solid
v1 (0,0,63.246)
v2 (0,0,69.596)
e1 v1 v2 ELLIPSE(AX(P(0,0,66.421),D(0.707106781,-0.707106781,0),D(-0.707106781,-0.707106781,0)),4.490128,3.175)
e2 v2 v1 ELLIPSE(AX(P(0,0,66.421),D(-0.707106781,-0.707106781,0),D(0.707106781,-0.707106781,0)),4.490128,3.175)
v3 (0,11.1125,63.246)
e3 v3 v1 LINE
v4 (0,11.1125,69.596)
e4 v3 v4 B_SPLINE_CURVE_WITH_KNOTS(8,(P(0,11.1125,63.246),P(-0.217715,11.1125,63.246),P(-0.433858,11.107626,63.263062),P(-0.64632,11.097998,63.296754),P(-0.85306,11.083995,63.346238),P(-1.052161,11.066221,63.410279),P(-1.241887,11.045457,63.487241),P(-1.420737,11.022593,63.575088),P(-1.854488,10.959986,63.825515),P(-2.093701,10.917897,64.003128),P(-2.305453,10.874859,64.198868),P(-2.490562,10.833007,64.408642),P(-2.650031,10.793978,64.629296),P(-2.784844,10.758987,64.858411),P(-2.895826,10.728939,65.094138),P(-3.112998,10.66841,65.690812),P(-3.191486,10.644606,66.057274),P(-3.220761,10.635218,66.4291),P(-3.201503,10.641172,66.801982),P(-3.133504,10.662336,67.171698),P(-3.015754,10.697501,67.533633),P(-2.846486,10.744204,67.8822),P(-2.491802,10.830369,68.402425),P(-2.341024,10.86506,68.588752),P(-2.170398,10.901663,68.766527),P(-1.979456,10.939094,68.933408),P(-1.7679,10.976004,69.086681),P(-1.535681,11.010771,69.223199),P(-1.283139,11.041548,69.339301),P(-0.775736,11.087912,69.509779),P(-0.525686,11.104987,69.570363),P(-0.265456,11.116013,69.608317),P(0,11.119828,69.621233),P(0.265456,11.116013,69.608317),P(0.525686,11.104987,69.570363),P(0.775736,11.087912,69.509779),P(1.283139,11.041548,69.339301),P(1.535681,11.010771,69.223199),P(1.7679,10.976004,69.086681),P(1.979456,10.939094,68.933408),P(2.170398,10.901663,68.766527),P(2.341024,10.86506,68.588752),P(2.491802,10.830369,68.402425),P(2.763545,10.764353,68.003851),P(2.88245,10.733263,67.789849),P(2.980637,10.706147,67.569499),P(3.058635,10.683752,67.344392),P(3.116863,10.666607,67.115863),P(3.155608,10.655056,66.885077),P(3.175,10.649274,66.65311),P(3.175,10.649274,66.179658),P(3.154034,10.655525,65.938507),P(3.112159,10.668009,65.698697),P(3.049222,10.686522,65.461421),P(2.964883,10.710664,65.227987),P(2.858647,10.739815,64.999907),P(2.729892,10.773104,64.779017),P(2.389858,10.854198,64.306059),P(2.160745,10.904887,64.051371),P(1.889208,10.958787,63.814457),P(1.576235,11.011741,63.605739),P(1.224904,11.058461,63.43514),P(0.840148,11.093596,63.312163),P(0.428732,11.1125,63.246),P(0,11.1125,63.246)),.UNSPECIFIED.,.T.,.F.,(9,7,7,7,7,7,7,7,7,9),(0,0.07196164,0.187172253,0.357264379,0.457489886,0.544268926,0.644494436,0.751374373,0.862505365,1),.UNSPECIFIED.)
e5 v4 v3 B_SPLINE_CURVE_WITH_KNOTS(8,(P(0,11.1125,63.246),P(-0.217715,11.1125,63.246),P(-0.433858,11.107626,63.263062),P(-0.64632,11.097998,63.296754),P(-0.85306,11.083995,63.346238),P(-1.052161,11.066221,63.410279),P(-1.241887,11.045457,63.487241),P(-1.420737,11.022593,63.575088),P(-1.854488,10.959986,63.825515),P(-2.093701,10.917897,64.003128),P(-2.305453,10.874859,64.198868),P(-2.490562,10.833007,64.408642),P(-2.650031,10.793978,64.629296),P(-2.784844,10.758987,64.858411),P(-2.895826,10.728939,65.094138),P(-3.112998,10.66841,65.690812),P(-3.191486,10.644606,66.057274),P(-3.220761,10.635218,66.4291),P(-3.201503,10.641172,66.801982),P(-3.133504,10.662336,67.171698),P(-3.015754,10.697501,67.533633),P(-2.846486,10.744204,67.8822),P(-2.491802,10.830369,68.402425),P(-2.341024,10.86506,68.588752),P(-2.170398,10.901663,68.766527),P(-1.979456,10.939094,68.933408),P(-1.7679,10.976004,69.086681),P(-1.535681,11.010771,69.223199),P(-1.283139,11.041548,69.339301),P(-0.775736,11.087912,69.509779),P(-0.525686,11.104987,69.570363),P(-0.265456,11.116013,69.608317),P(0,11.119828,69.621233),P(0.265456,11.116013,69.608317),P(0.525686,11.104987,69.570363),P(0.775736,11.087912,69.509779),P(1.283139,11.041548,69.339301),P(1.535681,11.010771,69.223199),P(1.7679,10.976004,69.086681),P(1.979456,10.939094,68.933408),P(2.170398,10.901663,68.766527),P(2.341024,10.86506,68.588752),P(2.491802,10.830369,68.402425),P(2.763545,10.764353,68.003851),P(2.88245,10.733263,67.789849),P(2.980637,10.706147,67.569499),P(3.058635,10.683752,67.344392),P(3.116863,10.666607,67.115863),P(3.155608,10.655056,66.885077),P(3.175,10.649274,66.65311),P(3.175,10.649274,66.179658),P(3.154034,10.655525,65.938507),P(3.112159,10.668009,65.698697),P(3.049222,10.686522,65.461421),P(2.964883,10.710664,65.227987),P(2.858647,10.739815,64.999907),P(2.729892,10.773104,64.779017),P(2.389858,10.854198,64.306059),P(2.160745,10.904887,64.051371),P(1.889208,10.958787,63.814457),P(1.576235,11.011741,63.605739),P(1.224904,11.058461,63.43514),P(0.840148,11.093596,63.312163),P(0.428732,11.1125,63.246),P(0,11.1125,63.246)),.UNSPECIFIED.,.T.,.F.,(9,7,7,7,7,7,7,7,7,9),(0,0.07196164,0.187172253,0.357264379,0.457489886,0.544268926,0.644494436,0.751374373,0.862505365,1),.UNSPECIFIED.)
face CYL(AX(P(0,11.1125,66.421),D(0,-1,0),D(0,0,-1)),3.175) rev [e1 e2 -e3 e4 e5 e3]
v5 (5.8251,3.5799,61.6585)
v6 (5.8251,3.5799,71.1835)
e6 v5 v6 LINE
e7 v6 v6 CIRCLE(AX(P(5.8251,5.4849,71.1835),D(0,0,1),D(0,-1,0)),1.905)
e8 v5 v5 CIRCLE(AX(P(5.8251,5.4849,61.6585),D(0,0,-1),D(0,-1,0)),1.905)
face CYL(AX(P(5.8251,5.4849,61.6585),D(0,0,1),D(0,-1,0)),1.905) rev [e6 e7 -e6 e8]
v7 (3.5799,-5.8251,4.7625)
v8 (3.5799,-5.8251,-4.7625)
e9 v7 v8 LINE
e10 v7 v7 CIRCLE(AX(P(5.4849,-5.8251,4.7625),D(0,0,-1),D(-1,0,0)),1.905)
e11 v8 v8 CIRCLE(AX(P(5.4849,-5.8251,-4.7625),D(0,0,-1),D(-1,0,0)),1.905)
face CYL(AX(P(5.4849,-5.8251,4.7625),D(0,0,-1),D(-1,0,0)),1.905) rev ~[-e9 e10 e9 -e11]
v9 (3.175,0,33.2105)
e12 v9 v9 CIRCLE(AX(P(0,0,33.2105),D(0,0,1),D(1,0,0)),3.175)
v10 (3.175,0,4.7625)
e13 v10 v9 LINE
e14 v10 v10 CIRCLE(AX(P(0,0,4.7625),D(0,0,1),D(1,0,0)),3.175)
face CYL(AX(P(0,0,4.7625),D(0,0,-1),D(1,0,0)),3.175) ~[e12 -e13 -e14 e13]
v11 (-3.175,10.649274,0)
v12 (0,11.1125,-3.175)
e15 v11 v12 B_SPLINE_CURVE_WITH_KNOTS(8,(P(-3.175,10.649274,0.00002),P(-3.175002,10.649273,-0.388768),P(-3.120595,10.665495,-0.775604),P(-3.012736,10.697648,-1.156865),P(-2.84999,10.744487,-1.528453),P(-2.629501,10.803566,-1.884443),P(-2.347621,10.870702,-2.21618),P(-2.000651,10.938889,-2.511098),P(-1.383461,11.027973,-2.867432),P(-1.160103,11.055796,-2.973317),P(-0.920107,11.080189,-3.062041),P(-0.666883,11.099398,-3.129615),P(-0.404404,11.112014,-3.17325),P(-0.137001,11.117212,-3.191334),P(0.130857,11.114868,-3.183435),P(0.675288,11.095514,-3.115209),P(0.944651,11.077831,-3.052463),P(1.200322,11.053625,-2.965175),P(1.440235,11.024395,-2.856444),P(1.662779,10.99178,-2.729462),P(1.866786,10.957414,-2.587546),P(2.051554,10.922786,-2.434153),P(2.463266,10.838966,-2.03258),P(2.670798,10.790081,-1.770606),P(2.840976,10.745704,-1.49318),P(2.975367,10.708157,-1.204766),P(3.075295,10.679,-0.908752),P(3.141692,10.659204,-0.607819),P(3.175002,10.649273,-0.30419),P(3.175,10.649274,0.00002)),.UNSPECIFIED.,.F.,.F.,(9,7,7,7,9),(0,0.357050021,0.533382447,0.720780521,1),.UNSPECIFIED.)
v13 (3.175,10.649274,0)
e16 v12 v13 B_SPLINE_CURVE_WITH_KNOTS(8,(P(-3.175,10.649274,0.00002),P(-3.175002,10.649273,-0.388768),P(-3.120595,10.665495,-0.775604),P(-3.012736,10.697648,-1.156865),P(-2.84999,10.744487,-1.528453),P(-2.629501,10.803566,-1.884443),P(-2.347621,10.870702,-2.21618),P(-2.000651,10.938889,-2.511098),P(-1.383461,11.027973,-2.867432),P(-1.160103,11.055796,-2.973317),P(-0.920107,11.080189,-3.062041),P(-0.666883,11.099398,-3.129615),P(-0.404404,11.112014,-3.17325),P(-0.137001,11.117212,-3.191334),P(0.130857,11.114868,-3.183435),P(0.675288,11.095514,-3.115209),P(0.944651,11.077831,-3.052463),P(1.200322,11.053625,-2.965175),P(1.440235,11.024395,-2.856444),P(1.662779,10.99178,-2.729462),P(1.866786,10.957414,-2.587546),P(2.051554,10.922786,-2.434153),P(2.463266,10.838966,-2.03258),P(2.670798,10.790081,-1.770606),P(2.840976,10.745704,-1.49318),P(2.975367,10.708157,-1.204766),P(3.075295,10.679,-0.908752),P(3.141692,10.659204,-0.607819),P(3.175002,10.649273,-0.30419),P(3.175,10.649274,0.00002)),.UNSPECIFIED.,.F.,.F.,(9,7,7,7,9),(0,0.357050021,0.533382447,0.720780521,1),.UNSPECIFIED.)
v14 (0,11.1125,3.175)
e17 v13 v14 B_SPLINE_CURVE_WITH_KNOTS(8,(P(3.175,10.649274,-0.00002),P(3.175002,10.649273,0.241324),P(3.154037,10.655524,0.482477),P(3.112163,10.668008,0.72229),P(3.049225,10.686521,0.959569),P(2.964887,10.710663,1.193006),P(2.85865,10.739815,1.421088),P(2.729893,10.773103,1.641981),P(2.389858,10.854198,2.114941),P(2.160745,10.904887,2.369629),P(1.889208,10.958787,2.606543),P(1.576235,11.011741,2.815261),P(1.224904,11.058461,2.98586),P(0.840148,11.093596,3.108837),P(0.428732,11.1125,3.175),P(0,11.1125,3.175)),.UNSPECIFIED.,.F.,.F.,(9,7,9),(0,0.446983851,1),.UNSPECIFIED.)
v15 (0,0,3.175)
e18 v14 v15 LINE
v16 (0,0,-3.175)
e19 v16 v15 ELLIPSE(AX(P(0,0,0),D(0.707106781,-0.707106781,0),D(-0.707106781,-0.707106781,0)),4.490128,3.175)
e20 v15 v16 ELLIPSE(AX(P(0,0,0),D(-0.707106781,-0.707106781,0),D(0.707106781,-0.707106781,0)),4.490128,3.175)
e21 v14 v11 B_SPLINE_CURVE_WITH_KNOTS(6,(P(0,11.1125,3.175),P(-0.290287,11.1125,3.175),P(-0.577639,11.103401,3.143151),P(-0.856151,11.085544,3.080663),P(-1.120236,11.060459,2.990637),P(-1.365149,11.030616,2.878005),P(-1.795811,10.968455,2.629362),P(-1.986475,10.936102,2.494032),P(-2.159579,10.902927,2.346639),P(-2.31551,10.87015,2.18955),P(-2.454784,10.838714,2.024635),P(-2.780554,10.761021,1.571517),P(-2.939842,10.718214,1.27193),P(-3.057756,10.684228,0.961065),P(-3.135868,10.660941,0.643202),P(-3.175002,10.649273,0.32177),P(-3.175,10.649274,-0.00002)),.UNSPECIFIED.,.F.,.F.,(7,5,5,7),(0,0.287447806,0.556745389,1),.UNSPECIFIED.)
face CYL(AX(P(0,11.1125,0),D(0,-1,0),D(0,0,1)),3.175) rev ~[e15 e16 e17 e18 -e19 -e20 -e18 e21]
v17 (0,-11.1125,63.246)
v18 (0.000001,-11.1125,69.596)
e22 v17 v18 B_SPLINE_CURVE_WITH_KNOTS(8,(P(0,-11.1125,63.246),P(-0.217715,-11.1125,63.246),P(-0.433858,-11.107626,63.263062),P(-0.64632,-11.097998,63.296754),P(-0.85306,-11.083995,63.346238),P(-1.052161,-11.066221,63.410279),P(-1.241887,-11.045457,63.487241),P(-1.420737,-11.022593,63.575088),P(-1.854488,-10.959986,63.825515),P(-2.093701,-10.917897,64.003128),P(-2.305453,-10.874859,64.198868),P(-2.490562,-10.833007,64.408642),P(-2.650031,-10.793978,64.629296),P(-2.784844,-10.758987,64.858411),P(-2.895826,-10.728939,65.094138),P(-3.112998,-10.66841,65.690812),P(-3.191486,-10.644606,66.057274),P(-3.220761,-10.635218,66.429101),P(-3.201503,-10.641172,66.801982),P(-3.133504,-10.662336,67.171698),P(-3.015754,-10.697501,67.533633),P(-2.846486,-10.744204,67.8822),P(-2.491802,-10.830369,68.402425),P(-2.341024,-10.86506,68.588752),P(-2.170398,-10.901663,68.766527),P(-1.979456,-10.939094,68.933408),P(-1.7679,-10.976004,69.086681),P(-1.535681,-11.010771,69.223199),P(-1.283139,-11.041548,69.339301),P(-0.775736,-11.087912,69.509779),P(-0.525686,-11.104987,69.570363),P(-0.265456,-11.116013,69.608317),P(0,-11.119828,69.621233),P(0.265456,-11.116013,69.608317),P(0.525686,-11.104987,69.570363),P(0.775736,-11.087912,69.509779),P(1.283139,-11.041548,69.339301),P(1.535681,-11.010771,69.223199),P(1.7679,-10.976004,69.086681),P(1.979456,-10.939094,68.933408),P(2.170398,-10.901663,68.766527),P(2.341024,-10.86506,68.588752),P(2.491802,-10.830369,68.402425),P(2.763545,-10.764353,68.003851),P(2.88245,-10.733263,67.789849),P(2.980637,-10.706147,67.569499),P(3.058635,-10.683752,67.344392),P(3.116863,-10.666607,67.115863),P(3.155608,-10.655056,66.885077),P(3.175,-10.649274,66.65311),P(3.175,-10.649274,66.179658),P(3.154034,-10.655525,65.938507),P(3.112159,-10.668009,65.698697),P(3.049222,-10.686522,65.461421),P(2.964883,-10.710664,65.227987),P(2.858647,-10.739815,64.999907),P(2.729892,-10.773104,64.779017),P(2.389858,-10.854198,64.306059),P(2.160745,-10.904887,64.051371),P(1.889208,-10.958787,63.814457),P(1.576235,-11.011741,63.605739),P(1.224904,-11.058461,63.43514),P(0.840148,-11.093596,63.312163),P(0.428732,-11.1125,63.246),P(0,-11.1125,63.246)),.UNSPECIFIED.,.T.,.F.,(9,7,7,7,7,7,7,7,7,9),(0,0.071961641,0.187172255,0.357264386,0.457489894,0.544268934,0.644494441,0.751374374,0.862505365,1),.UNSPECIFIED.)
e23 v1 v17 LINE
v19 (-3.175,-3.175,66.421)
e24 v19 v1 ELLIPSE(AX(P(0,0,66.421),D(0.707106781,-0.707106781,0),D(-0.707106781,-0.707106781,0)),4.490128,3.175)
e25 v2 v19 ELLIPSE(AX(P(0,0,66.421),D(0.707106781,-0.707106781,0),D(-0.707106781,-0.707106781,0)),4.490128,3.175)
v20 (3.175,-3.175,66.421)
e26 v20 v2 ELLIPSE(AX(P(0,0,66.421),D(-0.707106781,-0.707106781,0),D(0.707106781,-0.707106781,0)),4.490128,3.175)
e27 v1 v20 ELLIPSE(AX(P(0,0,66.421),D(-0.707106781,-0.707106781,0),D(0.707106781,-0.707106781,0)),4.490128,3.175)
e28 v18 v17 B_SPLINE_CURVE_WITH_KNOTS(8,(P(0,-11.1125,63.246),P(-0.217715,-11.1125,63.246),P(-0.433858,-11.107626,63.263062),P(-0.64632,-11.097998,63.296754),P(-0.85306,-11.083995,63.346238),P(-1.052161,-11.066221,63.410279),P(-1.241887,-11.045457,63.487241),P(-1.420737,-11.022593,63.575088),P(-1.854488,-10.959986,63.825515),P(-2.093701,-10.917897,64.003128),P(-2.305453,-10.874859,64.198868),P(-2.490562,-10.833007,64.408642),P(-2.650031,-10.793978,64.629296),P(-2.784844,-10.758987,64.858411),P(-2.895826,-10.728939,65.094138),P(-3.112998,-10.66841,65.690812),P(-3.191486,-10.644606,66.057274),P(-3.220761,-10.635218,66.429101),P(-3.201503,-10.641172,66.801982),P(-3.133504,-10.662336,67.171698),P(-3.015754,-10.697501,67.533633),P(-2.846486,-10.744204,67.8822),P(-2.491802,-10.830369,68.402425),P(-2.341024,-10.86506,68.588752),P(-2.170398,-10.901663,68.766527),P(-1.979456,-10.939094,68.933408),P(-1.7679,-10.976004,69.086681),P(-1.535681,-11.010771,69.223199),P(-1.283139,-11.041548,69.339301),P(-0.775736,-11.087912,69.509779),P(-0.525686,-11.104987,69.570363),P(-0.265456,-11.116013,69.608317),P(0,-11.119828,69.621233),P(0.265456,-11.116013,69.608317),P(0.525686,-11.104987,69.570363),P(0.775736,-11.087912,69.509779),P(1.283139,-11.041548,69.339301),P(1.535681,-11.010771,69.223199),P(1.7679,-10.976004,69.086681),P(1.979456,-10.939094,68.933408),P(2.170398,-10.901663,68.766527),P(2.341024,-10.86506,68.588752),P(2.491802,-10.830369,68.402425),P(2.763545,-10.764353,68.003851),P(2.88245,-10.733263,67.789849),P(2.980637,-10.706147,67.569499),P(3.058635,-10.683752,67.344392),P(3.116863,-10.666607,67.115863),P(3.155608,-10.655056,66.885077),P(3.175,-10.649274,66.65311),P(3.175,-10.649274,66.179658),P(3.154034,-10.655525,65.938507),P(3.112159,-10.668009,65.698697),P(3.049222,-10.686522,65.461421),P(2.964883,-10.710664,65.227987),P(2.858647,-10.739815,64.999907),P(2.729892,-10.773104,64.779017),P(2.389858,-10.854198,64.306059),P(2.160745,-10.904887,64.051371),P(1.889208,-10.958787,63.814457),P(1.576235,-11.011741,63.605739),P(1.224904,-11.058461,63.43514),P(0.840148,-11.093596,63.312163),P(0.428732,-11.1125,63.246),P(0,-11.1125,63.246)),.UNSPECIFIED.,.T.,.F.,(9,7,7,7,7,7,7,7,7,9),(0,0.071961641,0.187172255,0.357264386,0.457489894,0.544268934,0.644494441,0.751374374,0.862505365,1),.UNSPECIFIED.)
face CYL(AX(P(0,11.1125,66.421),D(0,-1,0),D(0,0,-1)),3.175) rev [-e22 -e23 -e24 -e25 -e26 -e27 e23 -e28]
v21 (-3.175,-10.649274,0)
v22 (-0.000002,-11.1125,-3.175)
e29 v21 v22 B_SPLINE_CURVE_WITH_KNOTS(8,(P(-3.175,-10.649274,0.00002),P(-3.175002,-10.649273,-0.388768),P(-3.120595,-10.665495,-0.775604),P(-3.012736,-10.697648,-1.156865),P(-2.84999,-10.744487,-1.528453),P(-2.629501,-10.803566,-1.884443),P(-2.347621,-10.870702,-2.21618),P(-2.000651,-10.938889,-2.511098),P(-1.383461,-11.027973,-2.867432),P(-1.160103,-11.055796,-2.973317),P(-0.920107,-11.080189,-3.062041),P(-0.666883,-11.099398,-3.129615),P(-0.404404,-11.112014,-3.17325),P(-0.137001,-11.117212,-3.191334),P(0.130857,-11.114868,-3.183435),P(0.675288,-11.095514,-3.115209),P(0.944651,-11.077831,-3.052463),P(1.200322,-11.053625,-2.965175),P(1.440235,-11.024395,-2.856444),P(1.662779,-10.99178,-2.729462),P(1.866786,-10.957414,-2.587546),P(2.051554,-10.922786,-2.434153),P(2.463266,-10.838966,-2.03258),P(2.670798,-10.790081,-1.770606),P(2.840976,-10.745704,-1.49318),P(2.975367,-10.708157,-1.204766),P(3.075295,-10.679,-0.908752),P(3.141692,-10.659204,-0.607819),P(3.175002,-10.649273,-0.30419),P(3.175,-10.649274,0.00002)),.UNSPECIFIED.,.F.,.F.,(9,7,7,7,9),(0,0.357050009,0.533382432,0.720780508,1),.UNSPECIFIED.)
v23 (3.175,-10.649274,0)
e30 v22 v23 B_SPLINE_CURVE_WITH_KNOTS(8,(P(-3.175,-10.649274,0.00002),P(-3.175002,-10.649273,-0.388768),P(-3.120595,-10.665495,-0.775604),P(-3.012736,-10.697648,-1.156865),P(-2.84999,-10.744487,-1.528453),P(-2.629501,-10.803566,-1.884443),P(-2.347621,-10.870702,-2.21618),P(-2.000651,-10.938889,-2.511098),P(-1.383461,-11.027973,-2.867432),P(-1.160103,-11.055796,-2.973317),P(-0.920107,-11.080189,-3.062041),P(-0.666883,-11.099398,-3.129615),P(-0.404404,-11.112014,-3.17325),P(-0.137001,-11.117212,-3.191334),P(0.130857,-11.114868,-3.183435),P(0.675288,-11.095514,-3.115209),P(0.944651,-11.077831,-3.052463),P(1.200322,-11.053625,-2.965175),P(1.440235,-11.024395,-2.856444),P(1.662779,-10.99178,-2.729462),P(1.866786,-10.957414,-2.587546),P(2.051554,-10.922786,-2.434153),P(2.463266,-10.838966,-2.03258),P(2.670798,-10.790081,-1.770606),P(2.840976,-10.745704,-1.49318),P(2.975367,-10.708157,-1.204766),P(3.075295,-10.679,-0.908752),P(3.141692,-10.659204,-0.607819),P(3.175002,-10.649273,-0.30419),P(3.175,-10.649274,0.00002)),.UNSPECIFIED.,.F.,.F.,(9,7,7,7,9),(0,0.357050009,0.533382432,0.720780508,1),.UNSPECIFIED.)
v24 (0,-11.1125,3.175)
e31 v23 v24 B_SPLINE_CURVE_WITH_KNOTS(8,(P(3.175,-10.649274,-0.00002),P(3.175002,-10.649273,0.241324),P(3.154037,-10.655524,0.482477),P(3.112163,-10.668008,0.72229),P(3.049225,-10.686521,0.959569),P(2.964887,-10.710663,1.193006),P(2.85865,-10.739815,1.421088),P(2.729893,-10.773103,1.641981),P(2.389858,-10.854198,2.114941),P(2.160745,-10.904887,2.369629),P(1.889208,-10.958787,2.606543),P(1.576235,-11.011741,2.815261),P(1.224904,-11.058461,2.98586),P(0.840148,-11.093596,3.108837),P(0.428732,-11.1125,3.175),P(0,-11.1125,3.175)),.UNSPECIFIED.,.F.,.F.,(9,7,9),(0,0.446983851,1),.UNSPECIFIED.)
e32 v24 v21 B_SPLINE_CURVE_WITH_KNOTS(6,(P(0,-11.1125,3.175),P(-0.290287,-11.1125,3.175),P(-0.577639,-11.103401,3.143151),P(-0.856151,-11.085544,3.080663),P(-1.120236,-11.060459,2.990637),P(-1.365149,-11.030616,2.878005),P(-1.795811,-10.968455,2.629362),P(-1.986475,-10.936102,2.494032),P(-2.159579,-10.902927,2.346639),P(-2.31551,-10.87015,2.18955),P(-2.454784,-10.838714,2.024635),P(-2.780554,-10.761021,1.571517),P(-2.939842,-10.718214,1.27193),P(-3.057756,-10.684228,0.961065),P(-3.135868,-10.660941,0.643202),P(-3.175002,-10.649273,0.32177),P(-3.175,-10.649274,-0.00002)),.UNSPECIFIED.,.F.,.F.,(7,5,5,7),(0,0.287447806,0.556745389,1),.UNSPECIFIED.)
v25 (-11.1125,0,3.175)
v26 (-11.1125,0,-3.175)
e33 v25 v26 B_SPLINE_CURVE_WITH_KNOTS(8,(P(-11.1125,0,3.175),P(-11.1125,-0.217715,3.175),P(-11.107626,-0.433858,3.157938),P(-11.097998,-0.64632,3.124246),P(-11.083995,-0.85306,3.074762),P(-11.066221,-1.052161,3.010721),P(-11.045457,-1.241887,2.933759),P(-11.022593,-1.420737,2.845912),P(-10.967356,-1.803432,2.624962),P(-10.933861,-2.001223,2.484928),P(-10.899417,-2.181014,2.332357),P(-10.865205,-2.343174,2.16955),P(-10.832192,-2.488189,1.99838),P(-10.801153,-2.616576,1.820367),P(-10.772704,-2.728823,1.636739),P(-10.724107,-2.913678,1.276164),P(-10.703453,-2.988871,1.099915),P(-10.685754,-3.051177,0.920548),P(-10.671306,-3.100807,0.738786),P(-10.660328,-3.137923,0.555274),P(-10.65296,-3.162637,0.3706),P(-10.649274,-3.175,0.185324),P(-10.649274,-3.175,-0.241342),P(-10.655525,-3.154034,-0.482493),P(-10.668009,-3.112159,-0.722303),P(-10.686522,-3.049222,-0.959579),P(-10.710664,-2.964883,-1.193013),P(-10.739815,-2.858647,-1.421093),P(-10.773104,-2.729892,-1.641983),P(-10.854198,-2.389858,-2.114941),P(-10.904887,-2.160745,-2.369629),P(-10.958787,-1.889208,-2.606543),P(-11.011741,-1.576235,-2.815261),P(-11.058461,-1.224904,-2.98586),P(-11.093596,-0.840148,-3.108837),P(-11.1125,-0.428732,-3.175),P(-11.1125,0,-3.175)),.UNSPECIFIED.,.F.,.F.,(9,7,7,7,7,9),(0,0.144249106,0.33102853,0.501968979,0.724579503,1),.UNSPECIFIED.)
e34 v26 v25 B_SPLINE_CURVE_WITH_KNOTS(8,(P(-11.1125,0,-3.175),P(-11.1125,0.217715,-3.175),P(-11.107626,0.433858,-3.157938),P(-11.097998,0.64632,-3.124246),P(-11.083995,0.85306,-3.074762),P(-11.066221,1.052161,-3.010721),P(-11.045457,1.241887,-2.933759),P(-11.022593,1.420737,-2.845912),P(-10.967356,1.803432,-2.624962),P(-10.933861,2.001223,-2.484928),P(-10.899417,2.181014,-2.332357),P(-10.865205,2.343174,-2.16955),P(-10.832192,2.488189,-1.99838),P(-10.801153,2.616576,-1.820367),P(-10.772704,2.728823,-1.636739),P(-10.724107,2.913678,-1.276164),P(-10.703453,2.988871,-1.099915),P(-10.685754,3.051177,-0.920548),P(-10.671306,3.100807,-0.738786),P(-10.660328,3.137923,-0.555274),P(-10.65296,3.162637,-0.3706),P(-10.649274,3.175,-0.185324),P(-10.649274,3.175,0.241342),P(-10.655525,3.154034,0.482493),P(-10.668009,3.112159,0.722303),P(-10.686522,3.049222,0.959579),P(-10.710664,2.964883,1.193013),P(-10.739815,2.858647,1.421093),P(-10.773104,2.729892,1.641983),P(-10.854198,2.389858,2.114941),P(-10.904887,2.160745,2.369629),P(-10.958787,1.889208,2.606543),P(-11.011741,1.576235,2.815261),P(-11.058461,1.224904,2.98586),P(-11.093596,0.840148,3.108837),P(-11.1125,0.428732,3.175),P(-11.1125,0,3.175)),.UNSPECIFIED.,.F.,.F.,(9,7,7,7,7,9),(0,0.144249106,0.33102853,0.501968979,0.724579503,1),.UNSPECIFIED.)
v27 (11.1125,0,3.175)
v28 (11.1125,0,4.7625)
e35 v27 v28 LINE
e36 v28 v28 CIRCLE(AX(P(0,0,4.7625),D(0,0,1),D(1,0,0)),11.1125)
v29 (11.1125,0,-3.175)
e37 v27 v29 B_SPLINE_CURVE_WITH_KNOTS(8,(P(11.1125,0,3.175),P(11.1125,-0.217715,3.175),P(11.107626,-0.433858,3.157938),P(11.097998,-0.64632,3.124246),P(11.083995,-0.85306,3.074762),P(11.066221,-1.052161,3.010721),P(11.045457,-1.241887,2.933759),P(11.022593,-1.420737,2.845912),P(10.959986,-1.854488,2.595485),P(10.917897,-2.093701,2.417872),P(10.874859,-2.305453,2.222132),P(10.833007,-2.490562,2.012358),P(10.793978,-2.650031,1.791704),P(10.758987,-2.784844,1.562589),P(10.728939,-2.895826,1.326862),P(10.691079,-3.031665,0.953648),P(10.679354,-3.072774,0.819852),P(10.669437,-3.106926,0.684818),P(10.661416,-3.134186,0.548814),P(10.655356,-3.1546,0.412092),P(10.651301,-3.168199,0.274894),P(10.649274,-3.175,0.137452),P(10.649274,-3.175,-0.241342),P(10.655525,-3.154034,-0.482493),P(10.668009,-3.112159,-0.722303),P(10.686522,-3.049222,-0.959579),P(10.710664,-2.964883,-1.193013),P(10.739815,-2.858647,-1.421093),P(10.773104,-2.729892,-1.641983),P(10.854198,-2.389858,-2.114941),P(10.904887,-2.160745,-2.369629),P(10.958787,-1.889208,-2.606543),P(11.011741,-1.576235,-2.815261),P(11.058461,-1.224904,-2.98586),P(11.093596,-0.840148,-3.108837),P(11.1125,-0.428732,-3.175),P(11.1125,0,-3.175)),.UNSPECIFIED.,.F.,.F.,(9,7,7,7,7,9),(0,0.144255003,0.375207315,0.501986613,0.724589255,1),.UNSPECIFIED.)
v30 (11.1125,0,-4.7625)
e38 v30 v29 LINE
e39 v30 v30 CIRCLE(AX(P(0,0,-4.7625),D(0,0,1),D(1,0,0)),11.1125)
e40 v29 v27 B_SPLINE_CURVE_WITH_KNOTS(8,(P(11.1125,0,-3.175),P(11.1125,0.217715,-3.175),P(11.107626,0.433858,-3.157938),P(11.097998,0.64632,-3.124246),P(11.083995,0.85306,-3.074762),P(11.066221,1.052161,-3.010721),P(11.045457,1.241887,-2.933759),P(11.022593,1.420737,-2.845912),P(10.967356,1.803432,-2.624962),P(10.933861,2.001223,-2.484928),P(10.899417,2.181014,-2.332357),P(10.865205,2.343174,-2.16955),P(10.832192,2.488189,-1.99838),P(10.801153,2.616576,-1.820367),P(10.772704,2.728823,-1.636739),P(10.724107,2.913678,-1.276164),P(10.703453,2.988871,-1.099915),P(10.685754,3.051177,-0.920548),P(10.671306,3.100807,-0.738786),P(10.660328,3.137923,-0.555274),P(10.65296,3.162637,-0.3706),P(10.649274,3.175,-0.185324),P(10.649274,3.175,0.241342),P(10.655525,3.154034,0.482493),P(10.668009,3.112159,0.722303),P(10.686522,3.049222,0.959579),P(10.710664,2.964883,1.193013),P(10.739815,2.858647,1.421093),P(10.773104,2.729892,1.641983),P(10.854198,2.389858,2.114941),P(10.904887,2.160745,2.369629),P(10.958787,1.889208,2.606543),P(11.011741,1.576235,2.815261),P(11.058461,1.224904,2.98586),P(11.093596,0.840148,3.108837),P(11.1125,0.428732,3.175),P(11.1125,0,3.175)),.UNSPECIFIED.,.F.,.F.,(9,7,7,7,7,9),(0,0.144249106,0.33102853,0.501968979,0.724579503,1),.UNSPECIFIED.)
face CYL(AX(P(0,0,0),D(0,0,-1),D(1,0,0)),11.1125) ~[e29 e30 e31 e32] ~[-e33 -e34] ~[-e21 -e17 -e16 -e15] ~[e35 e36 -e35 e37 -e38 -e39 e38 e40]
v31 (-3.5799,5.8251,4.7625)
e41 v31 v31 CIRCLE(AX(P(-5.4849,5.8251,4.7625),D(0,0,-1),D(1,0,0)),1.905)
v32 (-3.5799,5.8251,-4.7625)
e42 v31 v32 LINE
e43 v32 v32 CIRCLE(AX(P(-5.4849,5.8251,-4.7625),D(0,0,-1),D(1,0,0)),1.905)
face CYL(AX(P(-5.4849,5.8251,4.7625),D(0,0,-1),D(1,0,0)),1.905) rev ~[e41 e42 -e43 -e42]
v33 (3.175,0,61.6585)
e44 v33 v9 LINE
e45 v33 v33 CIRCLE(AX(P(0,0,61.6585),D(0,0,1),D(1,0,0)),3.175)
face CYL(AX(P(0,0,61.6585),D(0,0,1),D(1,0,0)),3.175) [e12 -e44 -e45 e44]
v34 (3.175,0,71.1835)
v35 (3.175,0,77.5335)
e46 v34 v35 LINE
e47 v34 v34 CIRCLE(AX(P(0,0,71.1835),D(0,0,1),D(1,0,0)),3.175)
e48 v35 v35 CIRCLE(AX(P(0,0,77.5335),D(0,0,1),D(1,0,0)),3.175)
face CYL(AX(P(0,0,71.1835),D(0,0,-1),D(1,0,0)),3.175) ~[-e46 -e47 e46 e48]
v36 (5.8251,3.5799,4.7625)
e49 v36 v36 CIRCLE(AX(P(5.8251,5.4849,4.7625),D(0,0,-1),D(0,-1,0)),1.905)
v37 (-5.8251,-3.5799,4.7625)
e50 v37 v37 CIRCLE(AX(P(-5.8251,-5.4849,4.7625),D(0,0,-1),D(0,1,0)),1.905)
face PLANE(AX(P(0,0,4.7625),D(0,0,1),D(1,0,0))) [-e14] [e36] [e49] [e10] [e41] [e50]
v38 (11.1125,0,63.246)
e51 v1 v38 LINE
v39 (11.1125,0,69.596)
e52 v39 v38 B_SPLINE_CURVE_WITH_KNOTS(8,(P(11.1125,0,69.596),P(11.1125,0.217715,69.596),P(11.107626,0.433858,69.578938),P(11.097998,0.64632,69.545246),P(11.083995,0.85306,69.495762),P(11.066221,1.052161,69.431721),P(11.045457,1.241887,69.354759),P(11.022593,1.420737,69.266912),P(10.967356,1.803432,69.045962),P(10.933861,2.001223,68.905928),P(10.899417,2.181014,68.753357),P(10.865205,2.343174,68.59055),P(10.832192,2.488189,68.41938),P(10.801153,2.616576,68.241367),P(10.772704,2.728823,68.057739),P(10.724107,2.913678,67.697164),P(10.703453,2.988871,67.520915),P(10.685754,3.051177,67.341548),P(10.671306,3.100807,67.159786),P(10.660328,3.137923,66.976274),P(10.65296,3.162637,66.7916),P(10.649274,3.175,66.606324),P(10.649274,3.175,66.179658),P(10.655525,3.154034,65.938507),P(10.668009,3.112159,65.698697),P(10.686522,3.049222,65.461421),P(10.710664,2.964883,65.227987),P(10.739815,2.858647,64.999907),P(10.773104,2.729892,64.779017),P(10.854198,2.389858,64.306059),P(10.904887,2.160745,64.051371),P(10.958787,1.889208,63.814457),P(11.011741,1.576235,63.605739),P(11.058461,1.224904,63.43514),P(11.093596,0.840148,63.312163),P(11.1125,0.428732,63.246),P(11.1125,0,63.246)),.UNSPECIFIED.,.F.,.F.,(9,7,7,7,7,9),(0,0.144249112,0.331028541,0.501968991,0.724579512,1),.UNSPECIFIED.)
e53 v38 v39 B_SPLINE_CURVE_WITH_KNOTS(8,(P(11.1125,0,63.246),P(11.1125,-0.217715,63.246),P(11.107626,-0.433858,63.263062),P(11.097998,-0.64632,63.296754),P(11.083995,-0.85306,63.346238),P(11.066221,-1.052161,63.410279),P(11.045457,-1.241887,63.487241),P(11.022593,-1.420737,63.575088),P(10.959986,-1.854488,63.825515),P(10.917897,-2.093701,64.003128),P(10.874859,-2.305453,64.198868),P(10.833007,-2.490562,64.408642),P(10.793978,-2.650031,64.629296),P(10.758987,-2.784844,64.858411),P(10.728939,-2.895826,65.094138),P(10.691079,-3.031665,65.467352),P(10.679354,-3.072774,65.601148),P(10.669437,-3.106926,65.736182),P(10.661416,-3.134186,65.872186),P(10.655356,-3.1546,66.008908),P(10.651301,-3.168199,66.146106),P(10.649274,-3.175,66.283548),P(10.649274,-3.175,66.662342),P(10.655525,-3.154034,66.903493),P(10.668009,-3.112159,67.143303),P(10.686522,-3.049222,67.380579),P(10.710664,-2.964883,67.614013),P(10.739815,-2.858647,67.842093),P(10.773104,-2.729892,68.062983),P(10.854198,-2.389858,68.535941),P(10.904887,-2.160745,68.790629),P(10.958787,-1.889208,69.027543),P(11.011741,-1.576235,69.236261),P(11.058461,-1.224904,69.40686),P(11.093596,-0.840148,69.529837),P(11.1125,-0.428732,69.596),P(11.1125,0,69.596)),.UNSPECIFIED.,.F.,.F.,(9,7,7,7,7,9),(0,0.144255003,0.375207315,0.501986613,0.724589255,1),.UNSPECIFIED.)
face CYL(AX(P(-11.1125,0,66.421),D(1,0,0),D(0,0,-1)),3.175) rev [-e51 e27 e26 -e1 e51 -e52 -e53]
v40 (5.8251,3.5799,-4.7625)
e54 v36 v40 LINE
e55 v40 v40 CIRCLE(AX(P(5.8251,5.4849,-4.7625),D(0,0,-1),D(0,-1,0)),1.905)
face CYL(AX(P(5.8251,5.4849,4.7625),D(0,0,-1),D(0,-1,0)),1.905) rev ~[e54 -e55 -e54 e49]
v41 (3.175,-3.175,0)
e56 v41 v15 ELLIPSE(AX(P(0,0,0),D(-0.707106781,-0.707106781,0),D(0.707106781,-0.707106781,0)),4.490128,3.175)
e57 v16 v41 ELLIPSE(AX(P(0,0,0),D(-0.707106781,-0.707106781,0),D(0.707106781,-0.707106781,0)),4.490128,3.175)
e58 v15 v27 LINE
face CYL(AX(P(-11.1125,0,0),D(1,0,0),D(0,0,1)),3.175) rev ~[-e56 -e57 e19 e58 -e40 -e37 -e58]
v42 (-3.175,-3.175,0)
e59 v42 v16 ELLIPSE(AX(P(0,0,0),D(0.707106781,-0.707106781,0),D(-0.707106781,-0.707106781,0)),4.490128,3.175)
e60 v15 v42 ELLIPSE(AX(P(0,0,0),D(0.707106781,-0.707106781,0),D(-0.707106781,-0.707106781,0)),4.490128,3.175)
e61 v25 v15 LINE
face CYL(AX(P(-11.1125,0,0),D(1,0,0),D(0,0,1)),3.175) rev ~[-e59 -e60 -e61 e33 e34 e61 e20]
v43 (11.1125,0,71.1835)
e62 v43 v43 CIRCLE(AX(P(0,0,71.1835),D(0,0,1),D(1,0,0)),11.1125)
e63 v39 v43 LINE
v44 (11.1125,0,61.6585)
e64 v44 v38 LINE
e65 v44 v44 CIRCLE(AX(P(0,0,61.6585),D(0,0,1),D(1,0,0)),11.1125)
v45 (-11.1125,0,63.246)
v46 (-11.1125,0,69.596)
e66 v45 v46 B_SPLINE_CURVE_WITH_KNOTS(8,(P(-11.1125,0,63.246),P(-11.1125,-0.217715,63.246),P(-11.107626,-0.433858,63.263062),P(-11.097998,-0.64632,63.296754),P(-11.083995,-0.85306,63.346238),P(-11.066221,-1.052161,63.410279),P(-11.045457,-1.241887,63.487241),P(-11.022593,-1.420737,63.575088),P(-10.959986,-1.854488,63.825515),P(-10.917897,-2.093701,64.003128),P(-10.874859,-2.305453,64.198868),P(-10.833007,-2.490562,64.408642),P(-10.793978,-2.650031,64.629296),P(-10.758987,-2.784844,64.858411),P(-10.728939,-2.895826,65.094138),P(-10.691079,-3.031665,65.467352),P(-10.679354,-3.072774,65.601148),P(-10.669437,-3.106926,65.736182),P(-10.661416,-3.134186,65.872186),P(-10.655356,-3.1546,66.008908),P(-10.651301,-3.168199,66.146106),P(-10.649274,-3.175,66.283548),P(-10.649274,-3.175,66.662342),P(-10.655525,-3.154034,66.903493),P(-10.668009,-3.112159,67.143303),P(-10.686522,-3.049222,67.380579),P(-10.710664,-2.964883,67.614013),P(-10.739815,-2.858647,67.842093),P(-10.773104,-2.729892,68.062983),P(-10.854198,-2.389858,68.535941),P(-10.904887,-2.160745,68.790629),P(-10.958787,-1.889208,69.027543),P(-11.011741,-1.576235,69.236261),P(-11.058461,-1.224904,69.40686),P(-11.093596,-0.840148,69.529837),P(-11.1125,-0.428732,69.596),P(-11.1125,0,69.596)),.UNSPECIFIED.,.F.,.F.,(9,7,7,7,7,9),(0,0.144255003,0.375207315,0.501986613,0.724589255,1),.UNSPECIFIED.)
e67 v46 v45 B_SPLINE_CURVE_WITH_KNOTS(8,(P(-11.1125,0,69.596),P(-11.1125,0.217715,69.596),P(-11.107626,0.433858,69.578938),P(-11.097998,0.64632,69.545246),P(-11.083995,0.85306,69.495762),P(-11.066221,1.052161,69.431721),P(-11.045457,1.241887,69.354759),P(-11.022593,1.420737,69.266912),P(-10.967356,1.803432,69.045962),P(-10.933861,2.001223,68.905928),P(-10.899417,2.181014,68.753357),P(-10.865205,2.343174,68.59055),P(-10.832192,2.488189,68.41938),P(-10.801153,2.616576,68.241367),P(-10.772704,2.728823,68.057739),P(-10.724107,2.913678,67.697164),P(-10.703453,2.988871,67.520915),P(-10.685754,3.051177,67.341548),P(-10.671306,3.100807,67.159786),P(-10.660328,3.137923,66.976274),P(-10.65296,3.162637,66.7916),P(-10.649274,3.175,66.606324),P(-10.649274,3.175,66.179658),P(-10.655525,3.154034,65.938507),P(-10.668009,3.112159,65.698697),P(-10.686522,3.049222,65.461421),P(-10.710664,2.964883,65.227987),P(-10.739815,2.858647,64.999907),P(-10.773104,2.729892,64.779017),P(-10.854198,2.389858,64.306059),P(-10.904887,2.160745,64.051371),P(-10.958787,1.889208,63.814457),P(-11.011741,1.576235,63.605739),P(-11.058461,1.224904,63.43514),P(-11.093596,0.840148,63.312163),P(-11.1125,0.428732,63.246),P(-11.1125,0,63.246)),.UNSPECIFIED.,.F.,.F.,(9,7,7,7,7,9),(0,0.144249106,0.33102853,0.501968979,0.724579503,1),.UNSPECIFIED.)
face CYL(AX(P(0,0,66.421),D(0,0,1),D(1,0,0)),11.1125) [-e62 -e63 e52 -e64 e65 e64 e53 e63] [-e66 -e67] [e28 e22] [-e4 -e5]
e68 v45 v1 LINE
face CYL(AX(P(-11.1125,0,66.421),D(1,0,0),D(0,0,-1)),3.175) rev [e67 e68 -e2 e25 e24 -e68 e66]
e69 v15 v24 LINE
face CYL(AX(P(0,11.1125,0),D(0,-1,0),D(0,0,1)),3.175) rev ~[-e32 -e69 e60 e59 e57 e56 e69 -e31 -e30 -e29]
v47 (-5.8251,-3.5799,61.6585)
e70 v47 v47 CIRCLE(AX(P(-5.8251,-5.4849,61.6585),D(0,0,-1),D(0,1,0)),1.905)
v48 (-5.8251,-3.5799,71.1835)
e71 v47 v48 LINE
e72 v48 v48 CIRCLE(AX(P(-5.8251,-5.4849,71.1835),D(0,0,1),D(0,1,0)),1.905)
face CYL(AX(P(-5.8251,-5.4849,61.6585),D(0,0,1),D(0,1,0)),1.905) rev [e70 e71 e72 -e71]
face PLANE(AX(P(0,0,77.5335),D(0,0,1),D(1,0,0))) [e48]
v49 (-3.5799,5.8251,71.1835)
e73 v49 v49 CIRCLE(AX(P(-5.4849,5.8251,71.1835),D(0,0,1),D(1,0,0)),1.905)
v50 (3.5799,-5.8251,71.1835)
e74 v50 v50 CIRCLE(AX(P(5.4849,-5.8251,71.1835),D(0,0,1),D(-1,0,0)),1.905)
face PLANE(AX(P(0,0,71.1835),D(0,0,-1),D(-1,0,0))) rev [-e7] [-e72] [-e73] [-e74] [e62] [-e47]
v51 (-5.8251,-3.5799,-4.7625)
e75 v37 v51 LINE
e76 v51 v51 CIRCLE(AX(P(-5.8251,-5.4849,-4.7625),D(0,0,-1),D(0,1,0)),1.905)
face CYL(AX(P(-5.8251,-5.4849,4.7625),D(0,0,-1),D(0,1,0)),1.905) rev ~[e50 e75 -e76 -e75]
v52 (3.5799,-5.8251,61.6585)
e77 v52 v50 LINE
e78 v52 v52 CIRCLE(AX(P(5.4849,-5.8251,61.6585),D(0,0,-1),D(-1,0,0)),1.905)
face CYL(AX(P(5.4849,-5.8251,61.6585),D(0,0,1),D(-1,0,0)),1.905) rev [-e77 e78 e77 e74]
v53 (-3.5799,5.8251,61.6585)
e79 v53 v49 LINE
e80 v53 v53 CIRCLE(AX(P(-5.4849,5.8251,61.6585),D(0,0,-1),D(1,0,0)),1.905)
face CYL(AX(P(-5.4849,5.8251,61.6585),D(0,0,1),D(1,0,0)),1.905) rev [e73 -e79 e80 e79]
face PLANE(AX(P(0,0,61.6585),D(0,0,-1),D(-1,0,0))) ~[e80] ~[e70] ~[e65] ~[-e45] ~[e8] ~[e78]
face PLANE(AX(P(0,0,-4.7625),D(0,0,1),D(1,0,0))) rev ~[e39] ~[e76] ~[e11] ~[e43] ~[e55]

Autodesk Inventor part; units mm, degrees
ref_plane "YZ Plane" through (0, 0, 0) normal (1, 0, 0) x (0, 1, 0)
ref_plane "XY Plane" through (0, 0, 0) normal (0, 0, 1) x (1, 0, 0)
sketch "Sketch2" plane through (0, 0, 0) normal (0, 0, 1) x (1, 0, 0)
  line L0 (0, 0) -> (3.175, -3.175) projected
  circle A0 centre (0, 0) radius 11.1125
  dimension "d6" = 22.225
extrude "Extrusion2" add sketch "Sketch2" along normal mid plane 9.525
sketch "Sketch6" plane through (0, 0, 4.7625) normal (0, 0, 1) x (1, 0, 0)
  circle A0 centre (0, 0) radius 3.175
  dimension "d17" = 6.35
extrude "Extrusion3" add sketch "Sketch6" along normal blind 28.448
sketch "Sketch7" plane through (0, 0, 4.7625) normal (0, 0, 1) x (1, 0, 0)
  circle A0 centre (0, 0) radius 3.175 projected
  line L0 (5.8251, 5.4849) -> (0.0652, -0.2751)
  line L1 (0, 0) -> (5.491, 0)
  dimension "d20" = 8.001
  dimension "d42" = 45
hole "Hole2" at (5.8251, 5.4849, 4.7625) direction (0, 0, -1) diameter 3.81 end through all
pattern_circular "Circular Pattern2" count 4 over 360 about axis through (0, 0, 4.7625) along (0, 0, 1) of "Hole2"
ref_plane "Work Plane2" through (0, 11.1125, 0) normal (0, 1, 0) x (-1, 0, 0)
sketch "Sketch8" plane through (0, 11.1125, 0) normal (0, 1, 0) x (-1, 0, 0)
  point P0 (0, 0)
  point P1 (0, 0)
hole "Hole3" at (0, 11.1125, 0) direction (0, -1, 0) diameter 6.35 end through all
pattern_circular "Circular Pattern3" count 4 over 360 about axis through (0, 0, 4.7625) along (0, 0, 1) of "Hole3"
mirror "Mirror1" about plane through (0, 0, 33.2105) normal (0, 0, 1) of "Extrusion2", "Hole2", "Circular Pattern2", "Extrusion3", "Hole3", "Circular Pattern3"
sketch "Sketch9" plane through (0, 0, 71.1835) normal (0, 0, 1) x (1, 0, 0)
  line L0 (0, 0) -> (0, 0) projected
  circle A0 centre (0, 0) radius 3.175
  dimension "d43" = 6.35
extrude "Extrusion4" add sketch "Sketch9" along normal blind 6.35
properties part number "SweeperHub"
